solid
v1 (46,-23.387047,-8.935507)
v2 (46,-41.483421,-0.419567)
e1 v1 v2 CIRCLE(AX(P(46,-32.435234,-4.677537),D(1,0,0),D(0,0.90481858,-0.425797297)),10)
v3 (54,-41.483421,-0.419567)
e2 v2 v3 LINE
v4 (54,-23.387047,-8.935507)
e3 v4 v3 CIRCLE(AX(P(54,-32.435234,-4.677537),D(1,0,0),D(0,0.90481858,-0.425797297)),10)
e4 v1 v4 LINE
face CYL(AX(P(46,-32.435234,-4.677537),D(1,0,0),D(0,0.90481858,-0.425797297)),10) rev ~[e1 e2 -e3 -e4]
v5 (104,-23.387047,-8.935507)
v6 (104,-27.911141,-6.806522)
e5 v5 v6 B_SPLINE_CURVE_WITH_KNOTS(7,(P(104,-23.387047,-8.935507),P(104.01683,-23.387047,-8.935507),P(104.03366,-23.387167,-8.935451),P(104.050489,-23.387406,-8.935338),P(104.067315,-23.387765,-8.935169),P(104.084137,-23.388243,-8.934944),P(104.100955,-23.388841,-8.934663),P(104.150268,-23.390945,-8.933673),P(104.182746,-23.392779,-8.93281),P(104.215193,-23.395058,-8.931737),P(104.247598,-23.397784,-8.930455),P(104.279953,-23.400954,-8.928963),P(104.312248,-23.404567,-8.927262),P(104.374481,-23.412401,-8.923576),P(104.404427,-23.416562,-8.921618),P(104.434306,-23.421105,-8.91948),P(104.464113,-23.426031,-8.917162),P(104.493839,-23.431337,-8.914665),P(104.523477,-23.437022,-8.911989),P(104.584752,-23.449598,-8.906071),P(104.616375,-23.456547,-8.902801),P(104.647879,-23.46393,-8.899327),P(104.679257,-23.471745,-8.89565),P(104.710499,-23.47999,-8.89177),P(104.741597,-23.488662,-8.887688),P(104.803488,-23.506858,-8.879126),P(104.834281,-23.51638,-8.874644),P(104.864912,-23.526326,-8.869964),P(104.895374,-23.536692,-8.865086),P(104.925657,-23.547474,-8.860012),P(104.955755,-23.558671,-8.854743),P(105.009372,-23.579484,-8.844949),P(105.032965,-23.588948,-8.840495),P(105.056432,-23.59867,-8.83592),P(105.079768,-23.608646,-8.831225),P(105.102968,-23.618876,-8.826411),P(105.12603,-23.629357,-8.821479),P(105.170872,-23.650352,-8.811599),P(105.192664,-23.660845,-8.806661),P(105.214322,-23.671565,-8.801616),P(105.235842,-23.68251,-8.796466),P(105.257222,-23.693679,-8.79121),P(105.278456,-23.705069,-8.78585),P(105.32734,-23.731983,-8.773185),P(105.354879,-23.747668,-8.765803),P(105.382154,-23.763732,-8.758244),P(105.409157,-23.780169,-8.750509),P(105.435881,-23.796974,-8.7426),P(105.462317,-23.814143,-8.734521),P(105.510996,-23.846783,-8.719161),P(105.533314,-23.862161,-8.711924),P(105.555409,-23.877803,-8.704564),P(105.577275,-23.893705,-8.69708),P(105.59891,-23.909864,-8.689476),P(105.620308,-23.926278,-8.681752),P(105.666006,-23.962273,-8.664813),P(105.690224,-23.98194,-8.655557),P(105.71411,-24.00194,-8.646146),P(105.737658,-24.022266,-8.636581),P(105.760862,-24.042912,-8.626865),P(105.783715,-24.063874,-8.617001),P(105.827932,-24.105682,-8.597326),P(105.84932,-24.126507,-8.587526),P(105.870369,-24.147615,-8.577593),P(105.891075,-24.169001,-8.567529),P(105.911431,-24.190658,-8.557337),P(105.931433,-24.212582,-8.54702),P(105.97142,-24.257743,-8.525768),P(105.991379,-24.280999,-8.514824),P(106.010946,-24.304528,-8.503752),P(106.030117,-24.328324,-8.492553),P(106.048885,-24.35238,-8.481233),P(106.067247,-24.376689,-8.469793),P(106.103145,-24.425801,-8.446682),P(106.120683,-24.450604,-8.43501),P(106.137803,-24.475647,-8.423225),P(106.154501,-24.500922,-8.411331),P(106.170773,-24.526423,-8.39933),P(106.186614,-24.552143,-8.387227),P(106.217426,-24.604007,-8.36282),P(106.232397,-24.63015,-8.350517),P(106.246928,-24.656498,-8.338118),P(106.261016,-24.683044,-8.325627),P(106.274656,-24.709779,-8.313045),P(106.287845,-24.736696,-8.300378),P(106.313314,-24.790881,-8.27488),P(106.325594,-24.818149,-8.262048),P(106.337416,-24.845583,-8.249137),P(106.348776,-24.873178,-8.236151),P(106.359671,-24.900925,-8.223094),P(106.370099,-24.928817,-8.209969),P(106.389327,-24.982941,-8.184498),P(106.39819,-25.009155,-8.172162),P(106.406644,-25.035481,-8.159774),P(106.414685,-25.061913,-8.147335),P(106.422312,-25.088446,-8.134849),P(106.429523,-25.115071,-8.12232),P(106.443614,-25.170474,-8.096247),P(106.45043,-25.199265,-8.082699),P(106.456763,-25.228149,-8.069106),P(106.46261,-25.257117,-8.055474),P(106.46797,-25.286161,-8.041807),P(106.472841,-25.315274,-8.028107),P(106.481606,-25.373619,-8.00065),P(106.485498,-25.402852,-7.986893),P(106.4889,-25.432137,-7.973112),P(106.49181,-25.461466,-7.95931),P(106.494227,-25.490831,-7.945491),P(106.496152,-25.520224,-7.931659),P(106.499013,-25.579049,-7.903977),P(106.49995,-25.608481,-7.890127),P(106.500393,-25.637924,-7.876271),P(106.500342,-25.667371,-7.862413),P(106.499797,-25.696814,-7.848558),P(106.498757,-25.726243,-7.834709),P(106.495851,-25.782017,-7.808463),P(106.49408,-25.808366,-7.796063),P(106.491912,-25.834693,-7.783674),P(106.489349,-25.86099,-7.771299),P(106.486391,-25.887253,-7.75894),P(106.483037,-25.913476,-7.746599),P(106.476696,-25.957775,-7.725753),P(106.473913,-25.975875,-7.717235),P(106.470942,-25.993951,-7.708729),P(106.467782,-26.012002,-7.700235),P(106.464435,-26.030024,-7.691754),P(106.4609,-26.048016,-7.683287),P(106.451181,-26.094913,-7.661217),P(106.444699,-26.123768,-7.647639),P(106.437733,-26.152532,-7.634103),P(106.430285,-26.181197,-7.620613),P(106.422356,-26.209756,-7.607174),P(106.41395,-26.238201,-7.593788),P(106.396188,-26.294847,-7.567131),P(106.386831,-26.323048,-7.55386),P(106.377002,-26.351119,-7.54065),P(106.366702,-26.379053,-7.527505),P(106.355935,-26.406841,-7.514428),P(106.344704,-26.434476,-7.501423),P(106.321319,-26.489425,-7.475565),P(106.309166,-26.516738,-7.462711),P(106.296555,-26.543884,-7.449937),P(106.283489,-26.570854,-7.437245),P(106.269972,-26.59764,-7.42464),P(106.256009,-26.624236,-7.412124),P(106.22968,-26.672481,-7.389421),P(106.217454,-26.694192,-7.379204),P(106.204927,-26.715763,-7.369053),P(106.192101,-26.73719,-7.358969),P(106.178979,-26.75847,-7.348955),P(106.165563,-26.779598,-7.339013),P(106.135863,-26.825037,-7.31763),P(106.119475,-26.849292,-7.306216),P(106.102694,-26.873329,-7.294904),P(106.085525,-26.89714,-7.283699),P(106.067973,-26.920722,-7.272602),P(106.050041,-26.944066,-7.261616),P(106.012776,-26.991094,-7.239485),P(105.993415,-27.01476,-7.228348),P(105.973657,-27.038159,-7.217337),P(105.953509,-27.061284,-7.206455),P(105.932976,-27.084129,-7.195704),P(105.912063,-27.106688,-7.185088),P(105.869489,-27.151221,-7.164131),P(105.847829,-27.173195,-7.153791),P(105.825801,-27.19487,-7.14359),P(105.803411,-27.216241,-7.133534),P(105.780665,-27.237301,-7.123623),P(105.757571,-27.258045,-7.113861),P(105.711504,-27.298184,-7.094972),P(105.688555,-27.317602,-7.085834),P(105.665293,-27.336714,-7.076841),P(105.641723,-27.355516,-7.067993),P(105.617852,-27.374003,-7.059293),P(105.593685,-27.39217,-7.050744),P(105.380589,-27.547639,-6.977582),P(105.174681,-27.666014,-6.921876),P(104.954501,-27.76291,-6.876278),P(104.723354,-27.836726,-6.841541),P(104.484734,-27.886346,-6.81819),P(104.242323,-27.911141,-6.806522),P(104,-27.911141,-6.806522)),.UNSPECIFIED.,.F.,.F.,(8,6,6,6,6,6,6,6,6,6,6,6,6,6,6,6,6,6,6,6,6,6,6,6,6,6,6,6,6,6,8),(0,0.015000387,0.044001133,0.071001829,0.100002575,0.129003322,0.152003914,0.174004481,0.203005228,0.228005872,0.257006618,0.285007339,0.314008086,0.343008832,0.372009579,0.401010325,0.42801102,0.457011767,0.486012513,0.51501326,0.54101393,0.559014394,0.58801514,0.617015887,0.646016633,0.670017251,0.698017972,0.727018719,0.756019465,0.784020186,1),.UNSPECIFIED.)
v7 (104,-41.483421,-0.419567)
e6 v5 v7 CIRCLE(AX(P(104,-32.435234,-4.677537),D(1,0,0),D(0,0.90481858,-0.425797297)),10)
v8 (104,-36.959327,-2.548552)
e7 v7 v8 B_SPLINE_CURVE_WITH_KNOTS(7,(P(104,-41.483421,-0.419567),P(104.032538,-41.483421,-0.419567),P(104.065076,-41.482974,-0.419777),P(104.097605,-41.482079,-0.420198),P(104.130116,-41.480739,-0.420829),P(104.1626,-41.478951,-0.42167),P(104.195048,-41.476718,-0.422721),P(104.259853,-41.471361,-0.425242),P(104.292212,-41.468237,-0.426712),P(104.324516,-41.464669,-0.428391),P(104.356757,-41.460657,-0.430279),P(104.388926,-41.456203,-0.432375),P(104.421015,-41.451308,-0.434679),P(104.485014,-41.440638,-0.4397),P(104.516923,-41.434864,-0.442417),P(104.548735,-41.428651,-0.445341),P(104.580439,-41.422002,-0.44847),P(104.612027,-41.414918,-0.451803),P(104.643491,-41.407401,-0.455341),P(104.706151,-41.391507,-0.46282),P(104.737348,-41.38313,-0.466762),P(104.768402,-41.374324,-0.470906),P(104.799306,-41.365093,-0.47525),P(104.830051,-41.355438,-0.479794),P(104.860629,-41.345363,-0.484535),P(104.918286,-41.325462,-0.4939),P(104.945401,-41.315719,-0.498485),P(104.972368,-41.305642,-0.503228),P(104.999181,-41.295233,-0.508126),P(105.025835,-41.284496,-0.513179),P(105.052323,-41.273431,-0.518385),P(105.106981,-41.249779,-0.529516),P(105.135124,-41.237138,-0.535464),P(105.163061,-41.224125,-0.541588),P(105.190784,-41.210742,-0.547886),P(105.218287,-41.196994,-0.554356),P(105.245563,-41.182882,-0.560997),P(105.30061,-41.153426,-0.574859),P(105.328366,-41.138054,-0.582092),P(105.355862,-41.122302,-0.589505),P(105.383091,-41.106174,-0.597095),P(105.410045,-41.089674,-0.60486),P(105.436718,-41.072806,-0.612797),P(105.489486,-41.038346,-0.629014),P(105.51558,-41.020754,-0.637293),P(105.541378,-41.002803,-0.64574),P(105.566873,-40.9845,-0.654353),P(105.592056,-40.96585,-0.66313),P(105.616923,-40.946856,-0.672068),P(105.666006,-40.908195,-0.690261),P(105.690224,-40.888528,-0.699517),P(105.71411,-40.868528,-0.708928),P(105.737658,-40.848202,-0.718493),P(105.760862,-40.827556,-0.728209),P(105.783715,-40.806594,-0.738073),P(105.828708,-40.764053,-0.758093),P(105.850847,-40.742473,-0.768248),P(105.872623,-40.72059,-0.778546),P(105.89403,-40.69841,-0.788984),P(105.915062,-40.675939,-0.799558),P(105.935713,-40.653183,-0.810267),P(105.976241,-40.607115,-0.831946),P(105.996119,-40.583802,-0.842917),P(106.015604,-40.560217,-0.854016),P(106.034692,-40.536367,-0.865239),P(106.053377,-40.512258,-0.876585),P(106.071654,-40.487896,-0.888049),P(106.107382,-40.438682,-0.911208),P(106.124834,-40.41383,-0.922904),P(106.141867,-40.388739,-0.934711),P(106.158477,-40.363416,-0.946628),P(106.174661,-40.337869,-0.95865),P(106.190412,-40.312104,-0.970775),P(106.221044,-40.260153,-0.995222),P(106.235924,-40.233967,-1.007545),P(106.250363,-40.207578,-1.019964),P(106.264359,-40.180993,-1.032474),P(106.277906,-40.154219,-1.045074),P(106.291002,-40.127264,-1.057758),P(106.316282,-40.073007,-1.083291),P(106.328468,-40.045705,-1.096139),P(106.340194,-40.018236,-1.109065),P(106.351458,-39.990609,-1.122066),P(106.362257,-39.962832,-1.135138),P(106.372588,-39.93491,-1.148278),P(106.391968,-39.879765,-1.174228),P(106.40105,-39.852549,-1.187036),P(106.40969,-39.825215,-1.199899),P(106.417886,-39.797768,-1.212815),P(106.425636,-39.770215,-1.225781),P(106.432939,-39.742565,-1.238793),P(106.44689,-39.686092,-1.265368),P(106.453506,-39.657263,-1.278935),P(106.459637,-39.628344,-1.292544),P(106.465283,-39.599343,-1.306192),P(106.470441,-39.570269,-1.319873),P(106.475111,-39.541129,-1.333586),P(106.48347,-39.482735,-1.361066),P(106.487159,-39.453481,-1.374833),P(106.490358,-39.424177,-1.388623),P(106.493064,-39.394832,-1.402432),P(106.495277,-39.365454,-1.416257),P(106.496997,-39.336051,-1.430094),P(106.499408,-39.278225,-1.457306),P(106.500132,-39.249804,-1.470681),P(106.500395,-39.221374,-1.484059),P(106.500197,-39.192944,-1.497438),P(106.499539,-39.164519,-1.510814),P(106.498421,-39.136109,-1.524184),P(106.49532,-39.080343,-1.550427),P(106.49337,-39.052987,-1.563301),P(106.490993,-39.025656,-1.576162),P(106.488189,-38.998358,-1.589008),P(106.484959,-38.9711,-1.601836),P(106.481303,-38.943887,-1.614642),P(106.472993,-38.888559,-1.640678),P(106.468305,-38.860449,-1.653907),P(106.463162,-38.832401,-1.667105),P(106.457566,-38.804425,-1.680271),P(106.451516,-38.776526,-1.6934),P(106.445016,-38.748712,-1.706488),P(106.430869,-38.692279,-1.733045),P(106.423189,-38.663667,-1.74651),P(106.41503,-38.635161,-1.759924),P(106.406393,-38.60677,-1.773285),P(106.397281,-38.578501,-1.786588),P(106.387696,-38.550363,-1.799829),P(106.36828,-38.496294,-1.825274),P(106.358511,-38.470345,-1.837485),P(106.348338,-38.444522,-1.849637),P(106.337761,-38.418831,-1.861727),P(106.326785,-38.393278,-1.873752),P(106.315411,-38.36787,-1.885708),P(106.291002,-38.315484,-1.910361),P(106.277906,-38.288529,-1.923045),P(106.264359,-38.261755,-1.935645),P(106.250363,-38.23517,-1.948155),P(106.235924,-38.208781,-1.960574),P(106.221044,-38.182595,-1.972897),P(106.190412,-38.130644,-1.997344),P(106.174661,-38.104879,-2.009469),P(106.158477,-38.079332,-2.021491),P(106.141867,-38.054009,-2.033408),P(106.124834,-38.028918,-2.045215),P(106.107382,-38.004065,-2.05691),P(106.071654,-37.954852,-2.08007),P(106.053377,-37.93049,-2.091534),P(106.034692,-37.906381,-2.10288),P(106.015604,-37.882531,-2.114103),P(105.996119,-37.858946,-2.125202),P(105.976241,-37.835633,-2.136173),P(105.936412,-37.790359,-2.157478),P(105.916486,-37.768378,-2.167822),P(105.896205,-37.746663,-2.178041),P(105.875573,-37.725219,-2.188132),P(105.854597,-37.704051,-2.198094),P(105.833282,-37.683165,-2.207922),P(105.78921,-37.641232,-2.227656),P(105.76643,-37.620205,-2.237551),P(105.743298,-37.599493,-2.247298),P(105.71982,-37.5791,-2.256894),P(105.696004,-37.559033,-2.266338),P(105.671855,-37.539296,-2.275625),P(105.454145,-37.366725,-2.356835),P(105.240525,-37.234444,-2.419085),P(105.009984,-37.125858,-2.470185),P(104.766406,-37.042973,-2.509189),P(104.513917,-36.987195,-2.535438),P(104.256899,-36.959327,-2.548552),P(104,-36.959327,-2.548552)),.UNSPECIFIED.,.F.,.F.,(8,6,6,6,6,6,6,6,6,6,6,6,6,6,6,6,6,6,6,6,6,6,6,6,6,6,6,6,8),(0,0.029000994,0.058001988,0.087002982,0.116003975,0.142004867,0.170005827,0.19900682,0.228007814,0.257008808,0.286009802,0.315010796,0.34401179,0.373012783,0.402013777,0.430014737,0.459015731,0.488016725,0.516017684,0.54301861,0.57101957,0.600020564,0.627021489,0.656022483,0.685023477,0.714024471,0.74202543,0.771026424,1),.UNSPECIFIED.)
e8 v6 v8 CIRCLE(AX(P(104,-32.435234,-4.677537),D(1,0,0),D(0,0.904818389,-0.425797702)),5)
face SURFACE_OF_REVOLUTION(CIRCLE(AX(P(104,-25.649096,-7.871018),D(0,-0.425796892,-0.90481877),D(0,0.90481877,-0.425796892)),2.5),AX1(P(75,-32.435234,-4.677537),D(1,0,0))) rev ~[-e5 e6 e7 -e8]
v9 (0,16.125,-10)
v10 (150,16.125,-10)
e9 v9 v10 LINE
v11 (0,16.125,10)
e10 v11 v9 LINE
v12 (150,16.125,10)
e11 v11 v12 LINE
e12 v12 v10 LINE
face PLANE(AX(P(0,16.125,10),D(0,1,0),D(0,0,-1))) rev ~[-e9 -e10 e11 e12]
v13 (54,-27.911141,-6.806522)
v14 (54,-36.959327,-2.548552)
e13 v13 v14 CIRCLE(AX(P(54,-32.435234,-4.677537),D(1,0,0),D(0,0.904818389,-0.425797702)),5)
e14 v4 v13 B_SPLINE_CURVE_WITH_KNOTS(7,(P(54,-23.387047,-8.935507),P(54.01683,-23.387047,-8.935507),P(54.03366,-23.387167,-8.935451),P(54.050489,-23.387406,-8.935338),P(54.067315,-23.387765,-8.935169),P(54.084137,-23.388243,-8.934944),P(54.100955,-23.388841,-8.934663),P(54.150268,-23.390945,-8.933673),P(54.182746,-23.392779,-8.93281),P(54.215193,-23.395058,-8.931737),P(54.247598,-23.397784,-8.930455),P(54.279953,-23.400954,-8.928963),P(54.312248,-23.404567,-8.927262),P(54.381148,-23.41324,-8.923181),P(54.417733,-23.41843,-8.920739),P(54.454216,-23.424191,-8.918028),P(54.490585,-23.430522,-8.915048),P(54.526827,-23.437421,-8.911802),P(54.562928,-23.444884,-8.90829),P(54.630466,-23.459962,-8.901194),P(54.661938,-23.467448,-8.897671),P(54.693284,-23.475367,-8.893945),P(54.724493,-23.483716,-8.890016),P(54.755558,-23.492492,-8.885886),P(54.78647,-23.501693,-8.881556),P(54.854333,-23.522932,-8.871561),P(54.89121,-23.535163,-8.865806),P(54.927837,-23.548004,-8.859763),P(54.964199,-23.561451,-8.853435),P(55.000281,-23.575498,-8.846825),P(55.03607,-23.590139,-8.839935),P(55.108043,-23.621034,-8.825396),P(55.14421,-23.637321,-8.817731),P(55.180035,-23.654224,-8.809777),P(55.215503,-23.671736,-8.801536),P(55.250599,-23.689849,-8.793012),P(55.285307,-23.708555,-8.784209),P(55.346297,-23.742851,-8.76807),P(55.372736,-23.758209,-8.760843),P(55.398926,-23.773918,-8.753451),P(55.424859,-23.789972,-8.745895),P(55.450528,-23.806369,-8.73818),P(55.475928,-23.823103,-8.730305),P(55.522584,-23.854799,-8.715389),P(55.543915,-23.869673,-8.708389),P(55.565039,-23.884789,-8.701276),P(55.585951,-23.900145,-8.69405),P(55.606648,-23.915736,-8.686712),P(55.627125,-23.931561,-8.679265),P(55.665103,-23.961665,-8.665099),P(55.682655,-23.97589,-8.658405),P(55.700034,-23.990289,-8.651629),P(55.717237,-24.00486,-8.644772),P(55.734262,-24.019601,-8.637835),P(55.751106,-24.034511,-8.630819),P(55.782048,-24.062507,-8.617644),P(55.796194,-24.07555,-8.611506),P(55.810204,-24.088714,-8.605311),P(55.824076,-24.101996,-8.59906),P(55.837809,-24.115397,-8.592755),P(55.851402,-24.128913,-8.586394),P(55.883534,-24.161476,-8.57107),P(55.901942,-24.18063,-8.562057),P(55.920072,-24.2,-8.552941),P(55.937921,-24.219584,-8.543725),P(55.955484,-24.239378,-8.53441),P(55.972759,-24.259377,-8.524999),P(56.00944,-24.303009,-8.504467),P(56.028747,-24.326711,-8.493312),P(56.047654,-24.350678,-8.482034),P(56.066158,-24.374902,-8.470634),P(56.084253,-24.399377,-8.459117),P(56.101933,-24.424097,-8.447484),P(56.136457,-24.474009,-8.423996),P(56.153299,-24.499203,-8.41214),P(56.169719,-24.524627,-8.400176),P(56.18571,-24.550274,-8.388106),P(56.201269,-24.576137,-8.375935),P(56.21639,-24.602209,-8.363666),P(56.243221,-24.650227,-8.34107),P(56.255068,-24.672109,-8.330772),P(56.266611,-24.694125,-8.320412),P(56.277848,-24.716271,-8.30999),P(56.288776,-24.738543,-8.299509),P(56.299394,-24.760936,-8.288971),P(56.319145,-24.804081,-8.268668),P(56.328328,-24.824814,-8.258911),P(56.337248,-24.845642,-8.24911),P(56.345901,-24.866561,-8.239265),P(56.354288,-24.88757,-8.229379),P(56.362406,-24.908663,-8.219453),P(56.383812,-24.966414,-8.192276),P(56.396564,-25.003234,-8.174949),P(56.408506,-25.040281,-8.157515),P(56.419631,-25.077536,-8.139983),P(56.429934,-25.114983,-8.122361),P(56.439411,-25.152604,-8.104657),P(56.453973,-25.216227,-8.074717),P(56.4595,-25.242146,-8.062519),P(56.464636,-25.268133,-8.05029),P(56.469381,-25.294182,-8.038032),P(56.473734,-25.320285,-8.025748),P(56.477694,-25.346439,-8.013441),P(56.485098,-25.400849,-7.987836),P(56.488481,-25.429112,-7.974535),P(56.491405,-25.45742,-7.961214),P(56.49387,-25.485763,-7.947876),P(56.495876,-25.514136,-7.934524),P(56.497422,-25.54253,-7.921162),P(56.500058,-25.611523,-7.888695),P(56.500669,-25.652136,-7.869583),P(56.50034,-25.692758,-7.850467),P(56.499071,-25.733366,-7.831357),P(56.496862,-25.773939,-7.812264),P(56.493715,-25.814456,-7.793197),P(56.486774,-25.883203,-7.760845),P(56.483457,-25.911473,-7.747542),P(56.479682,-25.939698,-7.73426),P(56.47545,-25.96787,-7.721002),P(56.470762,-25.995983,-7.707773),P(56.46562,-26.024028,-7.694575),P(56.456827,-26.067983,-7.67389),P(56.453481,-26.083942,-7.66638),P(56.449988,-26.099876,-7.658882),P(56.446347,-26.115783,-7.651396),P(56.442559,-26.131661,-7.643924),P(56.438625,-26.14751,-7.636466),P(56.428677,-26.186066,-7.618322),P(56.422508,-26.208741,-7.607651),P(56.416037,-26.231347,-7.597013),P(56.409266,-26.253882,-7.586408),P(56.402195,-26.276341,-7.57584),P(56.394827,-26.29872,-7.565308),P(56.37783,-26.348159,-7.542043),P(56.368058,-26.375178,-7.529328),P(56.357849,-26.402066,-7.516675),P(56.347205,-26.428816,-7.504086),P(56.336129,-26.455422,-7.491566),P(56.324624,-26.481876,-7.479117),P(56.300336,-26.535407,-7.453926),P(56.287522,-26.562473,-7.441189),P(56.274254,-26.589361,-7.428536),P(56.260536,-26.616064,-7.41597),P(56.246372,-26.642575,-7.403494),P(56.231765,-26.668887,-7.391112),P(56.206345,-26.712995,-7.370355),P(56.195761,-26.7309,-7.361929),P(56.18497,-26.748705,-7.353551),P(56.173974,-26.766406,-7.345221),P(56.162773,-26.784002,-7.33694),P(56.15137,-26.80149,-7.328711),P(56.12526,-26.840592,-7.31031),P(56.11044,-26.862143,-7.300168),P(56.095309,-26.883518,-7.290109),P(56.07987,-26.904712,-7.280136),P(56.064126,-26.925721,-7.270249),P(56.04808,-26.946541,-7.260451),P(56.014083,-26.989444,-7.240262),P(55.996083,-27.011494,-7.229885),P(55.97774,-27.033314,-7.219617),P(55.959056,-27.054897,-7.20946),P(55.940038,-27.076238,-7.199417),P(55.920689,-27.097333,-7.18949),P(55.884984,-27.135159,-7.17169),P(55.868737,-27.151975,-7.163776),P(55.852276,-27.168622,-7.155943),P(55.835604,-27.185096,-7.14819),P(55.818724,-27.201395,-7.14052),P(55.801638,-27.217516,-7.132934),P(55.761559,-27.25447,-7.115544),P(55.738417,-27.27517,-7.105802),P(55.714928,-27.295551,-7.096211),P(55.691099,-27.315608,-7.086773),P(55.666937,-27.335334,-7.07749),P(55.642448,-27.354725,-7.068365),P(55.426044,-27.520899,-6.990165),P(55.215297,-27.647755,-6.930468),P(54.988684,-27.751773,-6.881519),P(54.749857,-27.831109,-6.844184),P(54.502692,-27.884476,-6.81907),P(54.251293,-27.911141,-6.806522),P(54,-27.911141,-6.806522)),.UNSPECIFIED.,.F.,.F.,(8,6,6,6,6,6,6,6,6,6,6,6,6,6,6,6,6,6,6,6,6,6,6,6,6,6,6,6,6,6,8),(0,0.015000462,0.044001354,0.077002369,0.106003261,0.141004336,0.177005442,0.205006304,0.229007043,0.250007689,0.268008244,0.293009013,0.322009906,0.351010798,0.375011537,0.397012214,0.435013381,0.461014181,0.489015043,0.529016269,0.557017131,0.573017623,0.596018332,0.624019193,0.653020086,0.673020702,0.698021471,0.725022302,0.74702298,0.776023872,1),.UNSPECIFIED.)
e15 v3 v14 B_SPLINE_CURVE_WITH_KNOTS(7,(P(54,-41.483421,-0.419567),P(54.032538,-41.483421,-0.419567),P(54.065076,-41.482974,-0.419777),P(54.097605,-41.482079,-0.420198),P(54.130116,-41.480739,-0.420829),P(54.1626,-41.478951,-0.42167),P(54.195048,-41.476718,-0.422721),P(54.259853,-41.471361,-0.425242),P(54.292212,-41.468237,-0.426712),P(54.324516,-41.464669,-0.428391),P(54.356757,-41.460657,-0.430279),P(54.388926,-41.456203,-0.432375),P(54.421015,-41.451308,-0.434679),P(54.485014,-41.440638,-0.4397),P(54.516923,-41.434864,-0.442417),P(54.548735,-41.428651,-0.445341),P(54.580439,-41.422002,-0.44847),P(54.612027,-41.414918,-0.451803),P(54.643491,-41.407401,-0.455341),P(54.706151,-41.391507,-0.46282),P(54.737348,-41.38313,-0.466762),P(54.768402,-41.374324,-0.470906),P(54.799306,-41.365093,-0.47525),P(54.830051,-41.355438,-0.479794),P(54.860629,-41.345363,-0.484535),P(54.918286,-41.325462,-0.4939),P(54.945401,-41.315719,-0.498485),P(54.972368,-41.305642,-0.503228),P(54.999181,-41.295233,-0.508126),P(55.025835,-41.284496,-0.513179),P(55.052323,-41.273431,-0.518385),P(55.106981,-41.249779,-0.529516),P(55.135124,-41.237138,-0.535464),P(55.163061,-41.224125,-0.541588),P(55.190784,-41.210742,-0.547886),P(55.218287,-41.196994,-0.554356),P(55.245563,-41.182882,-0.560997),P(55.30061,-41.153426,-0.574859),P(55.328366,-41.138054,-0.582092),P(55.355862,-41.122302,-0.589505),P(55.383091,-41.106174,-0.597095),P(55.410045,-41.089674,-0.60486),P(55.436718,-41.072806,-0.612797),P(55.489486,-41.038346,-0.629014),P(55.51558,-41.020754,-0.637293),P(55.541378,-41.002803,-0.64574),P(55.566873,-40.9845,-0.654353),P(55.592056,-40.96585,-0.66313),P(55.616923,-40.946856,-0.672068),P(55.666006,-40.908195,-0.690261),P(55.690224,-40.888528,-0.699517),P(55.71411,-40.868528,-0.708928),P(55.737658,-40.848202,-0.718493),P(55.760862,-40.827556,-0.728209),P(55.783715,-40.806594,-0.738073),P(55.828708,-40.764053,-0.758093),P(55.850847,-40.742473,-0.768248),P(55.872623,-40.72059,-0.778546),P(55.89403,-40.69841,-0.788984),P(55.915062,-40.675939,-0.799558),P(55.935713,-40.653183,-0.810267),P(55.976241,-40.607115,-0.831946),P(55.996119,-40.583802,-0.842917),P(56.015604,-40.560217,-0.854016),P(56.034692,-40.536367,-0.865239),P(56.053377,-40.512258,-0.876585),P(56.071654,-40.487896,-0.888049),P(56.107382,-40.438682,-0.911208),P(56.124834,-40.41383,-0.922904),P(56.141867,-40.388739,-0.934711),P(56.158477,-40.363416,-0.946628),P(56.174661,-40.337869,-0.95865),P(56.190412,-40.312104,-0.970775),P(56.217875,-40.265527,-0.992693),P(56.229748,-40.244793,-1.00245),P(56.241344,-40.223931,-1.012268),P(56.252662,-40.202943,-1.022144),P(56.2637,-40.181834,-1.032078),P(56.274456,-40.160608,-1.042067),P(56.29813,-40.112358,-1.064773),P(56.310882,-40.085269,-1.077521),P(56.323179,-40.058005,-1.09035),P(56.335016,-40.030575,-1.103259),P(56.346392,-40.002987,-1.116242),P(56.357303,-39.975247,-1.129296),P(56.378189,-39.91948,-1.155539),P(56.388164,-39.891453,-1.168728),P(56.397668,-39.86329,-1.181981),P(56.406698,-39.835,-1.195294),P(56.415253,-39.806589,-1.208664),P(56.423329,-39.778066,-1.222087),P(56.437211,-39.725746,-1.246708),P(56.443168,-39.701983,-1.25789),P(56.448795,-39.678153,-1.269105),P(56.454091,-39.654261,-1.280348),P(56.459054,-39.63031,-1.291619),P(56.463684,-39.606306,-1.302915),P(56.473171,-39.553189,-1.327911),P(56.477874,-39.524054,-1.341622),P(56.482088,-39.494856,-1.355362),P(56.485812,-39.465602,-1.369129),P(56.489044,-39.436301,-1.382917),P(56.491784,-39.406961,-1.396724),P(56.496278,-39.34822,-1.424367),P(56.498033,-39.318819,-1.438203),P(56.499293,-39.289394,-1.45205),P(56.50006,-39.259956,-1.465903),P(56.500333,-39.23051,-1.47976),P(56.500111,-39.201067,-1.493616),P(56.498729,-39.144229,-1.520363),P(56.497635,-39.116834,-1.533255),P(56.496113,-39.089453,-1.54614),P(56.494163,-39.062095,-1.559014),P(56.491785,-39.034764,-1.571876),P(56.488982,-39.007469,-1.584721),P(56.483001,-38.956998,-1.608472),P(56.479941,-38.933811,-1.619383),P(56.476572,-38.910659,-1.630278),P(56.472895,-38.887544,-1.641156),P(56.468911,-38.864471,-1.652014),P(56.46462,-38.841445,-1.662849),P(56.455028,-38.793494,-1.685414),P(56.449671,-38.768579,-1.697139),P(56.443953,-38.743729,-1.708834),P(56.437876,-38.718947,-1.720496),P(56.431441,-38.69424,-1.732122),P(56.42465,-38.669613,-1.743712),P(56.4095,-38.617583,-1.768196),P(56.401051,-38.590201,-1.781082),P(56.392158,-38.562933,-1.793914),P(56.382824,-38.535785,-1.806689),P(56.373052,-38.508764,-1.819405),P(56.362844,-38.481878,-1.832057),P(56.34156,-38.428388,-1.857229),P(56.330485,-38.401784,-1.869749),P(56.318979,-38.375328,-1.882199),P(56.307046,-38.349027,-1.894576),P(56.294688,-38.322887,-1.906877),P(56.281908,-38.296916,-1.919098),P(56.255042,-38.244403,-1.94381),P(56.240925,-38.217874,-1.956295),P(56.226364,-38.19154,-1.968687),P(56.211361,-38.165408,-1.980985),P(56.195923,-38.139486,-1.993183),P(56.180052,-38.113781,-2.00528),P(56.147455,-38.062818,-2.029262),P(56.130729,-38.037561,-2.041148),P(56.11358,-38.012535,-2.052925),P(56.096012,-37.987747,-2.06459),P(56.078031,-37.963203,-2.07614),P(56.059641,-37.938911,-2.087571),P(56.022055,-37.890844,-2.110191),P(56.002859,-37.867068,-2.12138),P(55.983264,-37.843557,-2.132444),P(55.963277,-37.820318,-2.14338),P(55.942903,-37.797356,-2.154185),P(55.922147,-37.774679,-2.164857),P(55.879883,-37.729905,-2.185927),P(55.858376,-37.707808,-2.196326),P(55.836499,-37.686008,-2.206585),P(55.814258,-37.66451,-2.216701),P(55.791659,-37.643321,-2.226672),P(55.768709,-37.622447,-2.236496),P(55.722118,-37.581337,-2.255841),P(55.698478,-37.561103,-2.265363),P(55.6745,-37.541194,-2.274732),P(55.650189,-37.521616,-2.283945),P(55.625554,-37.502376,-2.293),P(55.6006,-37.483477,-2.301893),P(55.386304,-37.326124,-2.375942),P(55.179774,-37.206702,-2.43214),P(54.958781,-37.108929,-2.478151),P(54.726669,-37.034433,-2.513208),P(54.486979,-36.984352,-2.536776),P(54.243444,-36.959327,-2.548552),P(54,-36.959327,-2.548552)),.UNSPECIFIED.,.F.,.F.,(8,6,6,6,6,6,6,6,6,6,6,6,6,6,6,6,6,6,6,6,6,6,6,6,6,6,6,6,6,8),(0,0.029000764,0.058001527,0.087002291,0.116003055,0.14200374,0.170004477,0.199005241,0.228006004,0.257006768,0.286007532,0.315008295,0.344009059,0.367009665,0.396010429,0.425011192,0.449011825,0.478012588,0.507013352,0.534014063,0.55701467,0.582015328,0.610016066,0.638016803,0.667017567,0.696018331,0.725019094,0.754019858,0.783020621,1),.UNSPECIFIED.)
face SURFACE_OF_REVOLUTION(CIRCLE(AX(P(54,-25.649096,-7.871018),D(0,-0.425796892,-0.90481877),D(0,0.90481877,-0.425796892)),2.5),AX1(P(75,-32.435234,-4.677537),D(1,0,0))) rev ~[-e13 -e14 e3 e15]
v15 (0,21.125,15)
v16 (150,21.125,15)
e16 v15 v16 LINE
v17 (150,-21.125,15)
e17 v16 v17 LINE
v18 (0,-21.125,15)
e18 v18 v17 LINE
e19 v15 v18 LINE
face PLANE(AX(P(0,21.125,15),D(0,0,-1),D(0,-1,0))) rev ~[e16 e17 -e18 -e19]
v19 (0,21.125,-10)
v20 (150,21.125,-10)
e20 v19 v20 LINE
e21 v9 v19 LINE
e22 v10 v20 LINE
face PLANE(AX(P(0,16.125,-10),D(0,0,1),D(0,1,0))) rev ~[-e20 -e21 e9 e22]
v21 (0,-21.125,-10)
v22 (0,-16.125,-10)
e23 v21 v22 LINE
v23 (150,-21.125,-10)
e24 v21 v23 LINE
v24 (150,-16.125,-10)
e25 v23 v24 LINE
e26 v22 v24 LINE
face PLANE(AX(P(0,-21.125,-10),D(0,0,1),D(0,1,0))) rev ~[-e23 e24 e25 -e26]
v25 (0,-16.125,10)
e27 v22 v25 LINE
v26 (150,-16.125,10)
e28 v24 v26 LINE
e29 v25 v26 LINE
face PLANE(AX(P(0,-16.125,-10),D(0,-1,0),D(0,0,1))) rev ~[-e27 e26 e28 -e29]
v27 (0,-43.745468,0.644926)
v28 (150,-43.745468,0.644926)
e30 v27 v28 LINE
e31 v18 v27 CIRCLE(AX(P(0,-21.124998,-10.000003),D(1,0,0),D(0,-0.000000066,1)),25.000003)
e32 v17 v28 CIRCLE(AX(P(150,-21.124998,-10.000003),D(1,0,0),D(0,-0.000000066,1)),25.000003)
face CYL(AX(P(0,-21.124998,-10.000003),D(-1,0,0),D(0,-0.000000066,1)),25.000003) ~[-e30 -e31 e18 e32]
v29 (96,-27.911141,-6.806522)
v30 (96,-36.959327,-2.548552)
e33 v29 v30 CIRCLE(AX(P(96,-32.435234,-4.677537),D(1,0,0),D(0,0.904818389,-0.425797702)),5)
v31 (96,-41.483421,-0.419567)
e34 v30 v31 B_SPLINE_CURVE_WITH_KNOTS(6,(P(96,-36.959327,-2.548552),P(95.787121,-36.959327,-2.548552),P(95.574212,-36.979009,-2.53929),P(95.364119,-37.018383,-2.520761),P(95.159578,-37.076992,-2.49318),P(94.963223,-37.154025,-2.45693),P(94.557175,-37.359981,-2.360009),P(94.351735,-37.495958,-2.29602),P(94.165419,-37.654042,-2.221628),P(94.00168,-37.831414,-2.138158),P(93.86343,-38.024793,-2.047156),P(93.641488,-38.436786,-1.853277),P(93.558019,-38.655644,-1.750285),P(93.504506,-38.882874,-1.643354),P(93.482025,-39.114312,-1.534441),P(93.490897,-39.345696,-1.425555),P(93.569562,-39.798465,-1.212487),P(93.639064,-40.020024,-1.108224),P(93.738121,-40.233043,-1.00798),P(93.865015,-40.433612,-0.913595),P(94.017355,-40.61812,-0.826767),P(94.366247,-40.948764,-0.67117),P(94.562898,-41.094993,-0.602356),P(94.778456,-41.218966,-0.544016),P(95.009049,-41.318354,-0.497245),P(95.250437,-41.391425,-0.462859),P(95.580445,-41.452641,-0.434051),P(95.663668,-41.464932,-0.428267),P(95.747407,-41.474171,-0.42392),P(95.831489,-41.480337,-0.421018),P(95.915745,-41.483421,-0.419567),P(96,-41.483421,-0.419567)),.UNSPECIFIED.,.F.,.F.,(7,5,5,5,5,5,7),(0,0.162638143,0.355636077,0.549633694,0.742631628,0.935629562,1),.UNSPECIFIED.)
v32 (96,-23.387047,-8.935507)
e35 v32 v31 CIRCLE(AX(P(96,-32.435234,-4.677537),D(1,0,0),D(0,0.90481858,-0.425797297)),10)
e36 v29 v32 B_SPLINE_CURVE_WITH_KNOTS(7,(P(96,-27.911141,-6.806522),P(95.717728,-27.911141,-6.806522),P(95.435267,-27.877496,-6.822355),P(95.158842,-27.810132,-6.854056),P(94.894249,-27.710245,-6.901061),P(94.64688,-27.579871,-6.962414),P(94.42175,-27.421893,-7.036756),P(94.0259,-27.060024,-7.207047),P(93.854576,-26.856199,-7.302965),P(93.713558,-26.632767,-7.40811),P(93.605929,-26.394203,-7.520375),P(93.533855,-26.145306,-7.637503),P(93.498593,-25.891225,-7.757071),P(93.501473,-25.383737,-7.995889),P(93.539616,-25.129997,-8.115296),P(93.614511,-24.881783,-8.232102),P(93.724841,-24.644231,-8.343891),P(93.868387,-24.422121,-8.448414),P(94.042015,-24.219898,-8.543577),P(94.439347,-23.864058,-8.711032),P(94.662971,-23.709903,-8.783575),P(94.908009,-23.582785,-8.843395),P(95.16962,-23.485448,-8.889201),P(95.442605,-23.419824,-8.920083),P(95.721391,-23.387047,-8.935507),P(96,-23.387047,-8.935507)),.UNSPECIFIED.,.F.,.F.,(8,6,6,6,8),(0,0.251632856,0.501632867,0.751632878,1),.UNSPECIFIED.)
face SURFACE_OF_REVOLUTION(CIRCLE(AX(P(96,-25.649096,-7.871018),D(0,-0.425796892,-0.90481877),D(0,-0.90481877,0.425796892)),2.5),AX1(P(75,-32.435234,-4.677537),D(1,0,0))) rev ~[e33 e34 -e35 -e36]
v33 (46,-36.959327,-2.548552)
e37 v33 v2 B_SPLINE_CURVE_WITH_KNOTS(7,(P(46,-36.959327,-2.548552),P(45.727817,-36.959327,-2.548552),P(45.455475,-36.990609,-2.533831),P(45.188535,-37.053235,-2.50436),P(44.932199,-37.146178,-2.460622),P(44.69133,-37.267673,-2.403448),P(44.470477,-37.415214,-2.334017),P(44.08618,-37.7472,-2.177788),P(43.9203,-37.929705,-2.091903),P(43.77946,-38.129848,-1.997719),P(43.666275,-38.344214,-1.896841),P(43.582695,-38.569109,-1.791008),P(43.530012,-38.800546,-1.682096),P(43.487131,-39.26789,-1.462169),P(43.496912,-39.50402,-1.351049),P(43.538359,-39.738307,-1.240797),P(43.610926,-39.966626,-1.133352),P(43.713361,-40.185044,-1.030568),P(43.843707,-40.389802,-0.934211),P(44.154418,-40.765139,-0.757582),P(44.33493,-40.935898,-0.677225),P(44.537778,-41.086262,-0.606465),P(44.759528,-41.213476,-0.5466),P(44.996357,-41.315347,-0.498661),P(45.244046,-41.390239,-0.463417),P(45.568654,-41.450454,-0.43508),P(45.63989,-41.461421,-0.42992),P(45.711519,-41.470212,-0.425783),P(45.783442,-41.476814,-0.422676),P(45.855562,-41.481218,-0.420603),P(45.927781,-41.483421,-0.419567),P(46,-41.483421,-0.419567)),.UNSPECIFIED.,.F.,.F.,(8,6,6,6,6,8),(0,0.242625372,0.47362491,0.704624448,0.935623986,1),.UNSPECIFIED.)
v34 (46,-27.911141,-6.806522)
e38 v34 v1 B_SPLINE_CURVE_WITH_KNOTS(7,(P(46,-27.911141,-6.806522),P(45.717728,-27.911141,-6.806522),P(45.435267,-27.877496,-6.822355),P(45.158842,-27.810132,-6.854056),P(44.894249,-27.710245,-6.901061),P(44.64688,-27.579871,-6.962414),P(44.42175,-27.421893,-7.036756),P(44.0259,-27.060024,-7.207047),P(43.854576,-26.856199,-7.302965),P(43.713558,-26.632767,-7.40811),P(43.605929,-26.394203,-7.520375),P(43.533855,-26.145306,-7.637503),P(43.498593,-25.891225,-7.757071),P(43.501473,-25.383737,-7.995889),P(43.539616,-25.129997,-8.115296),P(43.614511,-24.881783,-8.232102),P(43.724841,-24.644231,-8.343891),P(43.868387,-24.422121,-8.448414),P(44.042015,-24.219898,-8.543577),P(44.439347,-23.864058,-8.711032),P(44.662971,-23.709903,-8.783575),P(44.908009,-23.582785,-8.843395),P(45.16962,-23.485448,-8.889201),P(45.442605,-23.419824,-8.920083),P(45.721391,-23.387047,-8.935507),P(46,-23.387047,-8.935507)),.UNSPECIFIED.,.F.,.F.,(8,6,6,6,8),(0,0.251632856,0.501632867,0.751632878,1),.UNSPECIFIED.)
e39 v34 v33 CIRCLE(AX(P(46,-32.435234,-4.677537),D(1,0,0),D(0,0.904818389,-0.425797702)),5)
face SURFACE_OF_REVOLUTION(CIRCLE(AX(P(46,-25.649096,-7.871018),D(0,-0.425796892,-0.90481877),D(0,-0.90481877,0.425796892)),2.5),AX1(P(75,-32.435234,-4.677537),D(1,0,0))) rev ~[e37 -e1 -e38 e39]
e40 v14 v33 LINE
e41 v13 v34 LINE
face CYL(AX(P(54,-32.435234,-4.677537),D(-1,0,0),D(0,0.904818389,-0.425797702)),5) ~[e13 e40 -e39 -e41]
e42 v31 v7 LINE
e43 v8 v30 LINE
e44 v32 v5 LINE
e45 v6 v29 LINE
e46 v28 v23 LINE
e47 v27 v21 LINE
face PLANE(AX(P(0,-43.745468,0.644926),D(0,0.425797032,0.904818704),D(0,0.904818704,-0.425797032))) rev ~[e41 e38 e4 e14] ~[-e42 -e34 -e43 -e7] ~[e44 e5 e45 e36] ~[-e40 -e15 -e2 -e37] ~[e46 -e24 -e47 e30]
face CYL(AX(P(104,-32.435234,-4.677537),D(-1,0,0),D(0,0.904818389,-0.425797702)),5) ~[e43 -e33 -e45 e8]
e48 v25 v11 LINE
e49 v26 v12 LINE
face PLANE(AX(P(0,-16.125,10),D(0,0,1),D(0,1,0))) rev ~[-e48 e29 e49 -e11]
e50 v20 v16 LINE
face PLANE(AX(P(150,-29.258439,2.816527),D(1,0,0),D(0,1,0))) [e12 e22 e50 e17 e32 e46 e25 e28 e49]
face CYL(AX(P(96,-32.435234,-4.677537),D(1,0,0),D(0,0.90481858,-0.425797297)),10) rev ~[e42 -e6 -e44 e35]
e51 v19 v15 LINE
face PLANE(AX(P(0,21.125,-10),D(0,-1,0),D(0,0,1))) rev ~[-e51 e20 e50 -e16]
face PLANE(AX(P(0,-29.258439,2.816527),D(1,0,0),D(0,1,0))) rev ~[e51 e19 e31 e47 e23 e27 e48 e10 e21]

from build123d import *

# Parameters (mm, degrees)
F1_DEPTH = 150


with BuildPart() as f1:
    # F0 (on Right) → F1 (new body)
    with BuildSketch(Plane.YZ):
        with BuildLine():
            Line((-43.745468, 0.644926), (-21.125, -10))
            Line((-21.125, -10), (-21.125, 15))
            ThreePointArc((-21.125, 15), (-34.520463, 11.108329), (-43.745468, 0.644926))
        make_face()
        Polygon((-16.125, -10), (-16.125, 10), (16.125, 10), (16.125, -10), (21.125, -10), (21.125, 15), (-21.125, 15), (-21.125, -10), align=None)
    extrude(amount=F1_DEPTH)

    # F2 (on face) → F3 (revolve, cut)
    with BuildSketch(Plane(origin=(0, -7.68272, -16.325779), x_dir=(1, 0, 0), z_dir=(0, -0.425797, -0.904819))):
        with BuildLine():
            Line((54, 22.356325), (46, 22.356325))
            ThreePointArc((46, 22.356325), (43.5, 19.856325), (46, 17.356325))
            Line((46, 17.356325), (54, 17.356325))
            ThreePointArc((54, 17.356325), (56.5, 19.856325), (54, 22.356325))
        make_face()
        with BuildLine():
            Line((104, 22.356325), (96, 22.356325))
            ThreePointArc((96, 22.356325), (93.5, 19.856325), (96, 17.356325))
            Line((96, 17.356325), (104, 17.356325))
            ThreePointArc((104, 17.356325), (106.5, 19.856325), (104, 22.356325))
        make_face()
    revolve(axis=Axis((75, -32.435234, -4.677537), (1, 0, 0)), mode=Mode.SUBTRACT)


solid = f1.part
